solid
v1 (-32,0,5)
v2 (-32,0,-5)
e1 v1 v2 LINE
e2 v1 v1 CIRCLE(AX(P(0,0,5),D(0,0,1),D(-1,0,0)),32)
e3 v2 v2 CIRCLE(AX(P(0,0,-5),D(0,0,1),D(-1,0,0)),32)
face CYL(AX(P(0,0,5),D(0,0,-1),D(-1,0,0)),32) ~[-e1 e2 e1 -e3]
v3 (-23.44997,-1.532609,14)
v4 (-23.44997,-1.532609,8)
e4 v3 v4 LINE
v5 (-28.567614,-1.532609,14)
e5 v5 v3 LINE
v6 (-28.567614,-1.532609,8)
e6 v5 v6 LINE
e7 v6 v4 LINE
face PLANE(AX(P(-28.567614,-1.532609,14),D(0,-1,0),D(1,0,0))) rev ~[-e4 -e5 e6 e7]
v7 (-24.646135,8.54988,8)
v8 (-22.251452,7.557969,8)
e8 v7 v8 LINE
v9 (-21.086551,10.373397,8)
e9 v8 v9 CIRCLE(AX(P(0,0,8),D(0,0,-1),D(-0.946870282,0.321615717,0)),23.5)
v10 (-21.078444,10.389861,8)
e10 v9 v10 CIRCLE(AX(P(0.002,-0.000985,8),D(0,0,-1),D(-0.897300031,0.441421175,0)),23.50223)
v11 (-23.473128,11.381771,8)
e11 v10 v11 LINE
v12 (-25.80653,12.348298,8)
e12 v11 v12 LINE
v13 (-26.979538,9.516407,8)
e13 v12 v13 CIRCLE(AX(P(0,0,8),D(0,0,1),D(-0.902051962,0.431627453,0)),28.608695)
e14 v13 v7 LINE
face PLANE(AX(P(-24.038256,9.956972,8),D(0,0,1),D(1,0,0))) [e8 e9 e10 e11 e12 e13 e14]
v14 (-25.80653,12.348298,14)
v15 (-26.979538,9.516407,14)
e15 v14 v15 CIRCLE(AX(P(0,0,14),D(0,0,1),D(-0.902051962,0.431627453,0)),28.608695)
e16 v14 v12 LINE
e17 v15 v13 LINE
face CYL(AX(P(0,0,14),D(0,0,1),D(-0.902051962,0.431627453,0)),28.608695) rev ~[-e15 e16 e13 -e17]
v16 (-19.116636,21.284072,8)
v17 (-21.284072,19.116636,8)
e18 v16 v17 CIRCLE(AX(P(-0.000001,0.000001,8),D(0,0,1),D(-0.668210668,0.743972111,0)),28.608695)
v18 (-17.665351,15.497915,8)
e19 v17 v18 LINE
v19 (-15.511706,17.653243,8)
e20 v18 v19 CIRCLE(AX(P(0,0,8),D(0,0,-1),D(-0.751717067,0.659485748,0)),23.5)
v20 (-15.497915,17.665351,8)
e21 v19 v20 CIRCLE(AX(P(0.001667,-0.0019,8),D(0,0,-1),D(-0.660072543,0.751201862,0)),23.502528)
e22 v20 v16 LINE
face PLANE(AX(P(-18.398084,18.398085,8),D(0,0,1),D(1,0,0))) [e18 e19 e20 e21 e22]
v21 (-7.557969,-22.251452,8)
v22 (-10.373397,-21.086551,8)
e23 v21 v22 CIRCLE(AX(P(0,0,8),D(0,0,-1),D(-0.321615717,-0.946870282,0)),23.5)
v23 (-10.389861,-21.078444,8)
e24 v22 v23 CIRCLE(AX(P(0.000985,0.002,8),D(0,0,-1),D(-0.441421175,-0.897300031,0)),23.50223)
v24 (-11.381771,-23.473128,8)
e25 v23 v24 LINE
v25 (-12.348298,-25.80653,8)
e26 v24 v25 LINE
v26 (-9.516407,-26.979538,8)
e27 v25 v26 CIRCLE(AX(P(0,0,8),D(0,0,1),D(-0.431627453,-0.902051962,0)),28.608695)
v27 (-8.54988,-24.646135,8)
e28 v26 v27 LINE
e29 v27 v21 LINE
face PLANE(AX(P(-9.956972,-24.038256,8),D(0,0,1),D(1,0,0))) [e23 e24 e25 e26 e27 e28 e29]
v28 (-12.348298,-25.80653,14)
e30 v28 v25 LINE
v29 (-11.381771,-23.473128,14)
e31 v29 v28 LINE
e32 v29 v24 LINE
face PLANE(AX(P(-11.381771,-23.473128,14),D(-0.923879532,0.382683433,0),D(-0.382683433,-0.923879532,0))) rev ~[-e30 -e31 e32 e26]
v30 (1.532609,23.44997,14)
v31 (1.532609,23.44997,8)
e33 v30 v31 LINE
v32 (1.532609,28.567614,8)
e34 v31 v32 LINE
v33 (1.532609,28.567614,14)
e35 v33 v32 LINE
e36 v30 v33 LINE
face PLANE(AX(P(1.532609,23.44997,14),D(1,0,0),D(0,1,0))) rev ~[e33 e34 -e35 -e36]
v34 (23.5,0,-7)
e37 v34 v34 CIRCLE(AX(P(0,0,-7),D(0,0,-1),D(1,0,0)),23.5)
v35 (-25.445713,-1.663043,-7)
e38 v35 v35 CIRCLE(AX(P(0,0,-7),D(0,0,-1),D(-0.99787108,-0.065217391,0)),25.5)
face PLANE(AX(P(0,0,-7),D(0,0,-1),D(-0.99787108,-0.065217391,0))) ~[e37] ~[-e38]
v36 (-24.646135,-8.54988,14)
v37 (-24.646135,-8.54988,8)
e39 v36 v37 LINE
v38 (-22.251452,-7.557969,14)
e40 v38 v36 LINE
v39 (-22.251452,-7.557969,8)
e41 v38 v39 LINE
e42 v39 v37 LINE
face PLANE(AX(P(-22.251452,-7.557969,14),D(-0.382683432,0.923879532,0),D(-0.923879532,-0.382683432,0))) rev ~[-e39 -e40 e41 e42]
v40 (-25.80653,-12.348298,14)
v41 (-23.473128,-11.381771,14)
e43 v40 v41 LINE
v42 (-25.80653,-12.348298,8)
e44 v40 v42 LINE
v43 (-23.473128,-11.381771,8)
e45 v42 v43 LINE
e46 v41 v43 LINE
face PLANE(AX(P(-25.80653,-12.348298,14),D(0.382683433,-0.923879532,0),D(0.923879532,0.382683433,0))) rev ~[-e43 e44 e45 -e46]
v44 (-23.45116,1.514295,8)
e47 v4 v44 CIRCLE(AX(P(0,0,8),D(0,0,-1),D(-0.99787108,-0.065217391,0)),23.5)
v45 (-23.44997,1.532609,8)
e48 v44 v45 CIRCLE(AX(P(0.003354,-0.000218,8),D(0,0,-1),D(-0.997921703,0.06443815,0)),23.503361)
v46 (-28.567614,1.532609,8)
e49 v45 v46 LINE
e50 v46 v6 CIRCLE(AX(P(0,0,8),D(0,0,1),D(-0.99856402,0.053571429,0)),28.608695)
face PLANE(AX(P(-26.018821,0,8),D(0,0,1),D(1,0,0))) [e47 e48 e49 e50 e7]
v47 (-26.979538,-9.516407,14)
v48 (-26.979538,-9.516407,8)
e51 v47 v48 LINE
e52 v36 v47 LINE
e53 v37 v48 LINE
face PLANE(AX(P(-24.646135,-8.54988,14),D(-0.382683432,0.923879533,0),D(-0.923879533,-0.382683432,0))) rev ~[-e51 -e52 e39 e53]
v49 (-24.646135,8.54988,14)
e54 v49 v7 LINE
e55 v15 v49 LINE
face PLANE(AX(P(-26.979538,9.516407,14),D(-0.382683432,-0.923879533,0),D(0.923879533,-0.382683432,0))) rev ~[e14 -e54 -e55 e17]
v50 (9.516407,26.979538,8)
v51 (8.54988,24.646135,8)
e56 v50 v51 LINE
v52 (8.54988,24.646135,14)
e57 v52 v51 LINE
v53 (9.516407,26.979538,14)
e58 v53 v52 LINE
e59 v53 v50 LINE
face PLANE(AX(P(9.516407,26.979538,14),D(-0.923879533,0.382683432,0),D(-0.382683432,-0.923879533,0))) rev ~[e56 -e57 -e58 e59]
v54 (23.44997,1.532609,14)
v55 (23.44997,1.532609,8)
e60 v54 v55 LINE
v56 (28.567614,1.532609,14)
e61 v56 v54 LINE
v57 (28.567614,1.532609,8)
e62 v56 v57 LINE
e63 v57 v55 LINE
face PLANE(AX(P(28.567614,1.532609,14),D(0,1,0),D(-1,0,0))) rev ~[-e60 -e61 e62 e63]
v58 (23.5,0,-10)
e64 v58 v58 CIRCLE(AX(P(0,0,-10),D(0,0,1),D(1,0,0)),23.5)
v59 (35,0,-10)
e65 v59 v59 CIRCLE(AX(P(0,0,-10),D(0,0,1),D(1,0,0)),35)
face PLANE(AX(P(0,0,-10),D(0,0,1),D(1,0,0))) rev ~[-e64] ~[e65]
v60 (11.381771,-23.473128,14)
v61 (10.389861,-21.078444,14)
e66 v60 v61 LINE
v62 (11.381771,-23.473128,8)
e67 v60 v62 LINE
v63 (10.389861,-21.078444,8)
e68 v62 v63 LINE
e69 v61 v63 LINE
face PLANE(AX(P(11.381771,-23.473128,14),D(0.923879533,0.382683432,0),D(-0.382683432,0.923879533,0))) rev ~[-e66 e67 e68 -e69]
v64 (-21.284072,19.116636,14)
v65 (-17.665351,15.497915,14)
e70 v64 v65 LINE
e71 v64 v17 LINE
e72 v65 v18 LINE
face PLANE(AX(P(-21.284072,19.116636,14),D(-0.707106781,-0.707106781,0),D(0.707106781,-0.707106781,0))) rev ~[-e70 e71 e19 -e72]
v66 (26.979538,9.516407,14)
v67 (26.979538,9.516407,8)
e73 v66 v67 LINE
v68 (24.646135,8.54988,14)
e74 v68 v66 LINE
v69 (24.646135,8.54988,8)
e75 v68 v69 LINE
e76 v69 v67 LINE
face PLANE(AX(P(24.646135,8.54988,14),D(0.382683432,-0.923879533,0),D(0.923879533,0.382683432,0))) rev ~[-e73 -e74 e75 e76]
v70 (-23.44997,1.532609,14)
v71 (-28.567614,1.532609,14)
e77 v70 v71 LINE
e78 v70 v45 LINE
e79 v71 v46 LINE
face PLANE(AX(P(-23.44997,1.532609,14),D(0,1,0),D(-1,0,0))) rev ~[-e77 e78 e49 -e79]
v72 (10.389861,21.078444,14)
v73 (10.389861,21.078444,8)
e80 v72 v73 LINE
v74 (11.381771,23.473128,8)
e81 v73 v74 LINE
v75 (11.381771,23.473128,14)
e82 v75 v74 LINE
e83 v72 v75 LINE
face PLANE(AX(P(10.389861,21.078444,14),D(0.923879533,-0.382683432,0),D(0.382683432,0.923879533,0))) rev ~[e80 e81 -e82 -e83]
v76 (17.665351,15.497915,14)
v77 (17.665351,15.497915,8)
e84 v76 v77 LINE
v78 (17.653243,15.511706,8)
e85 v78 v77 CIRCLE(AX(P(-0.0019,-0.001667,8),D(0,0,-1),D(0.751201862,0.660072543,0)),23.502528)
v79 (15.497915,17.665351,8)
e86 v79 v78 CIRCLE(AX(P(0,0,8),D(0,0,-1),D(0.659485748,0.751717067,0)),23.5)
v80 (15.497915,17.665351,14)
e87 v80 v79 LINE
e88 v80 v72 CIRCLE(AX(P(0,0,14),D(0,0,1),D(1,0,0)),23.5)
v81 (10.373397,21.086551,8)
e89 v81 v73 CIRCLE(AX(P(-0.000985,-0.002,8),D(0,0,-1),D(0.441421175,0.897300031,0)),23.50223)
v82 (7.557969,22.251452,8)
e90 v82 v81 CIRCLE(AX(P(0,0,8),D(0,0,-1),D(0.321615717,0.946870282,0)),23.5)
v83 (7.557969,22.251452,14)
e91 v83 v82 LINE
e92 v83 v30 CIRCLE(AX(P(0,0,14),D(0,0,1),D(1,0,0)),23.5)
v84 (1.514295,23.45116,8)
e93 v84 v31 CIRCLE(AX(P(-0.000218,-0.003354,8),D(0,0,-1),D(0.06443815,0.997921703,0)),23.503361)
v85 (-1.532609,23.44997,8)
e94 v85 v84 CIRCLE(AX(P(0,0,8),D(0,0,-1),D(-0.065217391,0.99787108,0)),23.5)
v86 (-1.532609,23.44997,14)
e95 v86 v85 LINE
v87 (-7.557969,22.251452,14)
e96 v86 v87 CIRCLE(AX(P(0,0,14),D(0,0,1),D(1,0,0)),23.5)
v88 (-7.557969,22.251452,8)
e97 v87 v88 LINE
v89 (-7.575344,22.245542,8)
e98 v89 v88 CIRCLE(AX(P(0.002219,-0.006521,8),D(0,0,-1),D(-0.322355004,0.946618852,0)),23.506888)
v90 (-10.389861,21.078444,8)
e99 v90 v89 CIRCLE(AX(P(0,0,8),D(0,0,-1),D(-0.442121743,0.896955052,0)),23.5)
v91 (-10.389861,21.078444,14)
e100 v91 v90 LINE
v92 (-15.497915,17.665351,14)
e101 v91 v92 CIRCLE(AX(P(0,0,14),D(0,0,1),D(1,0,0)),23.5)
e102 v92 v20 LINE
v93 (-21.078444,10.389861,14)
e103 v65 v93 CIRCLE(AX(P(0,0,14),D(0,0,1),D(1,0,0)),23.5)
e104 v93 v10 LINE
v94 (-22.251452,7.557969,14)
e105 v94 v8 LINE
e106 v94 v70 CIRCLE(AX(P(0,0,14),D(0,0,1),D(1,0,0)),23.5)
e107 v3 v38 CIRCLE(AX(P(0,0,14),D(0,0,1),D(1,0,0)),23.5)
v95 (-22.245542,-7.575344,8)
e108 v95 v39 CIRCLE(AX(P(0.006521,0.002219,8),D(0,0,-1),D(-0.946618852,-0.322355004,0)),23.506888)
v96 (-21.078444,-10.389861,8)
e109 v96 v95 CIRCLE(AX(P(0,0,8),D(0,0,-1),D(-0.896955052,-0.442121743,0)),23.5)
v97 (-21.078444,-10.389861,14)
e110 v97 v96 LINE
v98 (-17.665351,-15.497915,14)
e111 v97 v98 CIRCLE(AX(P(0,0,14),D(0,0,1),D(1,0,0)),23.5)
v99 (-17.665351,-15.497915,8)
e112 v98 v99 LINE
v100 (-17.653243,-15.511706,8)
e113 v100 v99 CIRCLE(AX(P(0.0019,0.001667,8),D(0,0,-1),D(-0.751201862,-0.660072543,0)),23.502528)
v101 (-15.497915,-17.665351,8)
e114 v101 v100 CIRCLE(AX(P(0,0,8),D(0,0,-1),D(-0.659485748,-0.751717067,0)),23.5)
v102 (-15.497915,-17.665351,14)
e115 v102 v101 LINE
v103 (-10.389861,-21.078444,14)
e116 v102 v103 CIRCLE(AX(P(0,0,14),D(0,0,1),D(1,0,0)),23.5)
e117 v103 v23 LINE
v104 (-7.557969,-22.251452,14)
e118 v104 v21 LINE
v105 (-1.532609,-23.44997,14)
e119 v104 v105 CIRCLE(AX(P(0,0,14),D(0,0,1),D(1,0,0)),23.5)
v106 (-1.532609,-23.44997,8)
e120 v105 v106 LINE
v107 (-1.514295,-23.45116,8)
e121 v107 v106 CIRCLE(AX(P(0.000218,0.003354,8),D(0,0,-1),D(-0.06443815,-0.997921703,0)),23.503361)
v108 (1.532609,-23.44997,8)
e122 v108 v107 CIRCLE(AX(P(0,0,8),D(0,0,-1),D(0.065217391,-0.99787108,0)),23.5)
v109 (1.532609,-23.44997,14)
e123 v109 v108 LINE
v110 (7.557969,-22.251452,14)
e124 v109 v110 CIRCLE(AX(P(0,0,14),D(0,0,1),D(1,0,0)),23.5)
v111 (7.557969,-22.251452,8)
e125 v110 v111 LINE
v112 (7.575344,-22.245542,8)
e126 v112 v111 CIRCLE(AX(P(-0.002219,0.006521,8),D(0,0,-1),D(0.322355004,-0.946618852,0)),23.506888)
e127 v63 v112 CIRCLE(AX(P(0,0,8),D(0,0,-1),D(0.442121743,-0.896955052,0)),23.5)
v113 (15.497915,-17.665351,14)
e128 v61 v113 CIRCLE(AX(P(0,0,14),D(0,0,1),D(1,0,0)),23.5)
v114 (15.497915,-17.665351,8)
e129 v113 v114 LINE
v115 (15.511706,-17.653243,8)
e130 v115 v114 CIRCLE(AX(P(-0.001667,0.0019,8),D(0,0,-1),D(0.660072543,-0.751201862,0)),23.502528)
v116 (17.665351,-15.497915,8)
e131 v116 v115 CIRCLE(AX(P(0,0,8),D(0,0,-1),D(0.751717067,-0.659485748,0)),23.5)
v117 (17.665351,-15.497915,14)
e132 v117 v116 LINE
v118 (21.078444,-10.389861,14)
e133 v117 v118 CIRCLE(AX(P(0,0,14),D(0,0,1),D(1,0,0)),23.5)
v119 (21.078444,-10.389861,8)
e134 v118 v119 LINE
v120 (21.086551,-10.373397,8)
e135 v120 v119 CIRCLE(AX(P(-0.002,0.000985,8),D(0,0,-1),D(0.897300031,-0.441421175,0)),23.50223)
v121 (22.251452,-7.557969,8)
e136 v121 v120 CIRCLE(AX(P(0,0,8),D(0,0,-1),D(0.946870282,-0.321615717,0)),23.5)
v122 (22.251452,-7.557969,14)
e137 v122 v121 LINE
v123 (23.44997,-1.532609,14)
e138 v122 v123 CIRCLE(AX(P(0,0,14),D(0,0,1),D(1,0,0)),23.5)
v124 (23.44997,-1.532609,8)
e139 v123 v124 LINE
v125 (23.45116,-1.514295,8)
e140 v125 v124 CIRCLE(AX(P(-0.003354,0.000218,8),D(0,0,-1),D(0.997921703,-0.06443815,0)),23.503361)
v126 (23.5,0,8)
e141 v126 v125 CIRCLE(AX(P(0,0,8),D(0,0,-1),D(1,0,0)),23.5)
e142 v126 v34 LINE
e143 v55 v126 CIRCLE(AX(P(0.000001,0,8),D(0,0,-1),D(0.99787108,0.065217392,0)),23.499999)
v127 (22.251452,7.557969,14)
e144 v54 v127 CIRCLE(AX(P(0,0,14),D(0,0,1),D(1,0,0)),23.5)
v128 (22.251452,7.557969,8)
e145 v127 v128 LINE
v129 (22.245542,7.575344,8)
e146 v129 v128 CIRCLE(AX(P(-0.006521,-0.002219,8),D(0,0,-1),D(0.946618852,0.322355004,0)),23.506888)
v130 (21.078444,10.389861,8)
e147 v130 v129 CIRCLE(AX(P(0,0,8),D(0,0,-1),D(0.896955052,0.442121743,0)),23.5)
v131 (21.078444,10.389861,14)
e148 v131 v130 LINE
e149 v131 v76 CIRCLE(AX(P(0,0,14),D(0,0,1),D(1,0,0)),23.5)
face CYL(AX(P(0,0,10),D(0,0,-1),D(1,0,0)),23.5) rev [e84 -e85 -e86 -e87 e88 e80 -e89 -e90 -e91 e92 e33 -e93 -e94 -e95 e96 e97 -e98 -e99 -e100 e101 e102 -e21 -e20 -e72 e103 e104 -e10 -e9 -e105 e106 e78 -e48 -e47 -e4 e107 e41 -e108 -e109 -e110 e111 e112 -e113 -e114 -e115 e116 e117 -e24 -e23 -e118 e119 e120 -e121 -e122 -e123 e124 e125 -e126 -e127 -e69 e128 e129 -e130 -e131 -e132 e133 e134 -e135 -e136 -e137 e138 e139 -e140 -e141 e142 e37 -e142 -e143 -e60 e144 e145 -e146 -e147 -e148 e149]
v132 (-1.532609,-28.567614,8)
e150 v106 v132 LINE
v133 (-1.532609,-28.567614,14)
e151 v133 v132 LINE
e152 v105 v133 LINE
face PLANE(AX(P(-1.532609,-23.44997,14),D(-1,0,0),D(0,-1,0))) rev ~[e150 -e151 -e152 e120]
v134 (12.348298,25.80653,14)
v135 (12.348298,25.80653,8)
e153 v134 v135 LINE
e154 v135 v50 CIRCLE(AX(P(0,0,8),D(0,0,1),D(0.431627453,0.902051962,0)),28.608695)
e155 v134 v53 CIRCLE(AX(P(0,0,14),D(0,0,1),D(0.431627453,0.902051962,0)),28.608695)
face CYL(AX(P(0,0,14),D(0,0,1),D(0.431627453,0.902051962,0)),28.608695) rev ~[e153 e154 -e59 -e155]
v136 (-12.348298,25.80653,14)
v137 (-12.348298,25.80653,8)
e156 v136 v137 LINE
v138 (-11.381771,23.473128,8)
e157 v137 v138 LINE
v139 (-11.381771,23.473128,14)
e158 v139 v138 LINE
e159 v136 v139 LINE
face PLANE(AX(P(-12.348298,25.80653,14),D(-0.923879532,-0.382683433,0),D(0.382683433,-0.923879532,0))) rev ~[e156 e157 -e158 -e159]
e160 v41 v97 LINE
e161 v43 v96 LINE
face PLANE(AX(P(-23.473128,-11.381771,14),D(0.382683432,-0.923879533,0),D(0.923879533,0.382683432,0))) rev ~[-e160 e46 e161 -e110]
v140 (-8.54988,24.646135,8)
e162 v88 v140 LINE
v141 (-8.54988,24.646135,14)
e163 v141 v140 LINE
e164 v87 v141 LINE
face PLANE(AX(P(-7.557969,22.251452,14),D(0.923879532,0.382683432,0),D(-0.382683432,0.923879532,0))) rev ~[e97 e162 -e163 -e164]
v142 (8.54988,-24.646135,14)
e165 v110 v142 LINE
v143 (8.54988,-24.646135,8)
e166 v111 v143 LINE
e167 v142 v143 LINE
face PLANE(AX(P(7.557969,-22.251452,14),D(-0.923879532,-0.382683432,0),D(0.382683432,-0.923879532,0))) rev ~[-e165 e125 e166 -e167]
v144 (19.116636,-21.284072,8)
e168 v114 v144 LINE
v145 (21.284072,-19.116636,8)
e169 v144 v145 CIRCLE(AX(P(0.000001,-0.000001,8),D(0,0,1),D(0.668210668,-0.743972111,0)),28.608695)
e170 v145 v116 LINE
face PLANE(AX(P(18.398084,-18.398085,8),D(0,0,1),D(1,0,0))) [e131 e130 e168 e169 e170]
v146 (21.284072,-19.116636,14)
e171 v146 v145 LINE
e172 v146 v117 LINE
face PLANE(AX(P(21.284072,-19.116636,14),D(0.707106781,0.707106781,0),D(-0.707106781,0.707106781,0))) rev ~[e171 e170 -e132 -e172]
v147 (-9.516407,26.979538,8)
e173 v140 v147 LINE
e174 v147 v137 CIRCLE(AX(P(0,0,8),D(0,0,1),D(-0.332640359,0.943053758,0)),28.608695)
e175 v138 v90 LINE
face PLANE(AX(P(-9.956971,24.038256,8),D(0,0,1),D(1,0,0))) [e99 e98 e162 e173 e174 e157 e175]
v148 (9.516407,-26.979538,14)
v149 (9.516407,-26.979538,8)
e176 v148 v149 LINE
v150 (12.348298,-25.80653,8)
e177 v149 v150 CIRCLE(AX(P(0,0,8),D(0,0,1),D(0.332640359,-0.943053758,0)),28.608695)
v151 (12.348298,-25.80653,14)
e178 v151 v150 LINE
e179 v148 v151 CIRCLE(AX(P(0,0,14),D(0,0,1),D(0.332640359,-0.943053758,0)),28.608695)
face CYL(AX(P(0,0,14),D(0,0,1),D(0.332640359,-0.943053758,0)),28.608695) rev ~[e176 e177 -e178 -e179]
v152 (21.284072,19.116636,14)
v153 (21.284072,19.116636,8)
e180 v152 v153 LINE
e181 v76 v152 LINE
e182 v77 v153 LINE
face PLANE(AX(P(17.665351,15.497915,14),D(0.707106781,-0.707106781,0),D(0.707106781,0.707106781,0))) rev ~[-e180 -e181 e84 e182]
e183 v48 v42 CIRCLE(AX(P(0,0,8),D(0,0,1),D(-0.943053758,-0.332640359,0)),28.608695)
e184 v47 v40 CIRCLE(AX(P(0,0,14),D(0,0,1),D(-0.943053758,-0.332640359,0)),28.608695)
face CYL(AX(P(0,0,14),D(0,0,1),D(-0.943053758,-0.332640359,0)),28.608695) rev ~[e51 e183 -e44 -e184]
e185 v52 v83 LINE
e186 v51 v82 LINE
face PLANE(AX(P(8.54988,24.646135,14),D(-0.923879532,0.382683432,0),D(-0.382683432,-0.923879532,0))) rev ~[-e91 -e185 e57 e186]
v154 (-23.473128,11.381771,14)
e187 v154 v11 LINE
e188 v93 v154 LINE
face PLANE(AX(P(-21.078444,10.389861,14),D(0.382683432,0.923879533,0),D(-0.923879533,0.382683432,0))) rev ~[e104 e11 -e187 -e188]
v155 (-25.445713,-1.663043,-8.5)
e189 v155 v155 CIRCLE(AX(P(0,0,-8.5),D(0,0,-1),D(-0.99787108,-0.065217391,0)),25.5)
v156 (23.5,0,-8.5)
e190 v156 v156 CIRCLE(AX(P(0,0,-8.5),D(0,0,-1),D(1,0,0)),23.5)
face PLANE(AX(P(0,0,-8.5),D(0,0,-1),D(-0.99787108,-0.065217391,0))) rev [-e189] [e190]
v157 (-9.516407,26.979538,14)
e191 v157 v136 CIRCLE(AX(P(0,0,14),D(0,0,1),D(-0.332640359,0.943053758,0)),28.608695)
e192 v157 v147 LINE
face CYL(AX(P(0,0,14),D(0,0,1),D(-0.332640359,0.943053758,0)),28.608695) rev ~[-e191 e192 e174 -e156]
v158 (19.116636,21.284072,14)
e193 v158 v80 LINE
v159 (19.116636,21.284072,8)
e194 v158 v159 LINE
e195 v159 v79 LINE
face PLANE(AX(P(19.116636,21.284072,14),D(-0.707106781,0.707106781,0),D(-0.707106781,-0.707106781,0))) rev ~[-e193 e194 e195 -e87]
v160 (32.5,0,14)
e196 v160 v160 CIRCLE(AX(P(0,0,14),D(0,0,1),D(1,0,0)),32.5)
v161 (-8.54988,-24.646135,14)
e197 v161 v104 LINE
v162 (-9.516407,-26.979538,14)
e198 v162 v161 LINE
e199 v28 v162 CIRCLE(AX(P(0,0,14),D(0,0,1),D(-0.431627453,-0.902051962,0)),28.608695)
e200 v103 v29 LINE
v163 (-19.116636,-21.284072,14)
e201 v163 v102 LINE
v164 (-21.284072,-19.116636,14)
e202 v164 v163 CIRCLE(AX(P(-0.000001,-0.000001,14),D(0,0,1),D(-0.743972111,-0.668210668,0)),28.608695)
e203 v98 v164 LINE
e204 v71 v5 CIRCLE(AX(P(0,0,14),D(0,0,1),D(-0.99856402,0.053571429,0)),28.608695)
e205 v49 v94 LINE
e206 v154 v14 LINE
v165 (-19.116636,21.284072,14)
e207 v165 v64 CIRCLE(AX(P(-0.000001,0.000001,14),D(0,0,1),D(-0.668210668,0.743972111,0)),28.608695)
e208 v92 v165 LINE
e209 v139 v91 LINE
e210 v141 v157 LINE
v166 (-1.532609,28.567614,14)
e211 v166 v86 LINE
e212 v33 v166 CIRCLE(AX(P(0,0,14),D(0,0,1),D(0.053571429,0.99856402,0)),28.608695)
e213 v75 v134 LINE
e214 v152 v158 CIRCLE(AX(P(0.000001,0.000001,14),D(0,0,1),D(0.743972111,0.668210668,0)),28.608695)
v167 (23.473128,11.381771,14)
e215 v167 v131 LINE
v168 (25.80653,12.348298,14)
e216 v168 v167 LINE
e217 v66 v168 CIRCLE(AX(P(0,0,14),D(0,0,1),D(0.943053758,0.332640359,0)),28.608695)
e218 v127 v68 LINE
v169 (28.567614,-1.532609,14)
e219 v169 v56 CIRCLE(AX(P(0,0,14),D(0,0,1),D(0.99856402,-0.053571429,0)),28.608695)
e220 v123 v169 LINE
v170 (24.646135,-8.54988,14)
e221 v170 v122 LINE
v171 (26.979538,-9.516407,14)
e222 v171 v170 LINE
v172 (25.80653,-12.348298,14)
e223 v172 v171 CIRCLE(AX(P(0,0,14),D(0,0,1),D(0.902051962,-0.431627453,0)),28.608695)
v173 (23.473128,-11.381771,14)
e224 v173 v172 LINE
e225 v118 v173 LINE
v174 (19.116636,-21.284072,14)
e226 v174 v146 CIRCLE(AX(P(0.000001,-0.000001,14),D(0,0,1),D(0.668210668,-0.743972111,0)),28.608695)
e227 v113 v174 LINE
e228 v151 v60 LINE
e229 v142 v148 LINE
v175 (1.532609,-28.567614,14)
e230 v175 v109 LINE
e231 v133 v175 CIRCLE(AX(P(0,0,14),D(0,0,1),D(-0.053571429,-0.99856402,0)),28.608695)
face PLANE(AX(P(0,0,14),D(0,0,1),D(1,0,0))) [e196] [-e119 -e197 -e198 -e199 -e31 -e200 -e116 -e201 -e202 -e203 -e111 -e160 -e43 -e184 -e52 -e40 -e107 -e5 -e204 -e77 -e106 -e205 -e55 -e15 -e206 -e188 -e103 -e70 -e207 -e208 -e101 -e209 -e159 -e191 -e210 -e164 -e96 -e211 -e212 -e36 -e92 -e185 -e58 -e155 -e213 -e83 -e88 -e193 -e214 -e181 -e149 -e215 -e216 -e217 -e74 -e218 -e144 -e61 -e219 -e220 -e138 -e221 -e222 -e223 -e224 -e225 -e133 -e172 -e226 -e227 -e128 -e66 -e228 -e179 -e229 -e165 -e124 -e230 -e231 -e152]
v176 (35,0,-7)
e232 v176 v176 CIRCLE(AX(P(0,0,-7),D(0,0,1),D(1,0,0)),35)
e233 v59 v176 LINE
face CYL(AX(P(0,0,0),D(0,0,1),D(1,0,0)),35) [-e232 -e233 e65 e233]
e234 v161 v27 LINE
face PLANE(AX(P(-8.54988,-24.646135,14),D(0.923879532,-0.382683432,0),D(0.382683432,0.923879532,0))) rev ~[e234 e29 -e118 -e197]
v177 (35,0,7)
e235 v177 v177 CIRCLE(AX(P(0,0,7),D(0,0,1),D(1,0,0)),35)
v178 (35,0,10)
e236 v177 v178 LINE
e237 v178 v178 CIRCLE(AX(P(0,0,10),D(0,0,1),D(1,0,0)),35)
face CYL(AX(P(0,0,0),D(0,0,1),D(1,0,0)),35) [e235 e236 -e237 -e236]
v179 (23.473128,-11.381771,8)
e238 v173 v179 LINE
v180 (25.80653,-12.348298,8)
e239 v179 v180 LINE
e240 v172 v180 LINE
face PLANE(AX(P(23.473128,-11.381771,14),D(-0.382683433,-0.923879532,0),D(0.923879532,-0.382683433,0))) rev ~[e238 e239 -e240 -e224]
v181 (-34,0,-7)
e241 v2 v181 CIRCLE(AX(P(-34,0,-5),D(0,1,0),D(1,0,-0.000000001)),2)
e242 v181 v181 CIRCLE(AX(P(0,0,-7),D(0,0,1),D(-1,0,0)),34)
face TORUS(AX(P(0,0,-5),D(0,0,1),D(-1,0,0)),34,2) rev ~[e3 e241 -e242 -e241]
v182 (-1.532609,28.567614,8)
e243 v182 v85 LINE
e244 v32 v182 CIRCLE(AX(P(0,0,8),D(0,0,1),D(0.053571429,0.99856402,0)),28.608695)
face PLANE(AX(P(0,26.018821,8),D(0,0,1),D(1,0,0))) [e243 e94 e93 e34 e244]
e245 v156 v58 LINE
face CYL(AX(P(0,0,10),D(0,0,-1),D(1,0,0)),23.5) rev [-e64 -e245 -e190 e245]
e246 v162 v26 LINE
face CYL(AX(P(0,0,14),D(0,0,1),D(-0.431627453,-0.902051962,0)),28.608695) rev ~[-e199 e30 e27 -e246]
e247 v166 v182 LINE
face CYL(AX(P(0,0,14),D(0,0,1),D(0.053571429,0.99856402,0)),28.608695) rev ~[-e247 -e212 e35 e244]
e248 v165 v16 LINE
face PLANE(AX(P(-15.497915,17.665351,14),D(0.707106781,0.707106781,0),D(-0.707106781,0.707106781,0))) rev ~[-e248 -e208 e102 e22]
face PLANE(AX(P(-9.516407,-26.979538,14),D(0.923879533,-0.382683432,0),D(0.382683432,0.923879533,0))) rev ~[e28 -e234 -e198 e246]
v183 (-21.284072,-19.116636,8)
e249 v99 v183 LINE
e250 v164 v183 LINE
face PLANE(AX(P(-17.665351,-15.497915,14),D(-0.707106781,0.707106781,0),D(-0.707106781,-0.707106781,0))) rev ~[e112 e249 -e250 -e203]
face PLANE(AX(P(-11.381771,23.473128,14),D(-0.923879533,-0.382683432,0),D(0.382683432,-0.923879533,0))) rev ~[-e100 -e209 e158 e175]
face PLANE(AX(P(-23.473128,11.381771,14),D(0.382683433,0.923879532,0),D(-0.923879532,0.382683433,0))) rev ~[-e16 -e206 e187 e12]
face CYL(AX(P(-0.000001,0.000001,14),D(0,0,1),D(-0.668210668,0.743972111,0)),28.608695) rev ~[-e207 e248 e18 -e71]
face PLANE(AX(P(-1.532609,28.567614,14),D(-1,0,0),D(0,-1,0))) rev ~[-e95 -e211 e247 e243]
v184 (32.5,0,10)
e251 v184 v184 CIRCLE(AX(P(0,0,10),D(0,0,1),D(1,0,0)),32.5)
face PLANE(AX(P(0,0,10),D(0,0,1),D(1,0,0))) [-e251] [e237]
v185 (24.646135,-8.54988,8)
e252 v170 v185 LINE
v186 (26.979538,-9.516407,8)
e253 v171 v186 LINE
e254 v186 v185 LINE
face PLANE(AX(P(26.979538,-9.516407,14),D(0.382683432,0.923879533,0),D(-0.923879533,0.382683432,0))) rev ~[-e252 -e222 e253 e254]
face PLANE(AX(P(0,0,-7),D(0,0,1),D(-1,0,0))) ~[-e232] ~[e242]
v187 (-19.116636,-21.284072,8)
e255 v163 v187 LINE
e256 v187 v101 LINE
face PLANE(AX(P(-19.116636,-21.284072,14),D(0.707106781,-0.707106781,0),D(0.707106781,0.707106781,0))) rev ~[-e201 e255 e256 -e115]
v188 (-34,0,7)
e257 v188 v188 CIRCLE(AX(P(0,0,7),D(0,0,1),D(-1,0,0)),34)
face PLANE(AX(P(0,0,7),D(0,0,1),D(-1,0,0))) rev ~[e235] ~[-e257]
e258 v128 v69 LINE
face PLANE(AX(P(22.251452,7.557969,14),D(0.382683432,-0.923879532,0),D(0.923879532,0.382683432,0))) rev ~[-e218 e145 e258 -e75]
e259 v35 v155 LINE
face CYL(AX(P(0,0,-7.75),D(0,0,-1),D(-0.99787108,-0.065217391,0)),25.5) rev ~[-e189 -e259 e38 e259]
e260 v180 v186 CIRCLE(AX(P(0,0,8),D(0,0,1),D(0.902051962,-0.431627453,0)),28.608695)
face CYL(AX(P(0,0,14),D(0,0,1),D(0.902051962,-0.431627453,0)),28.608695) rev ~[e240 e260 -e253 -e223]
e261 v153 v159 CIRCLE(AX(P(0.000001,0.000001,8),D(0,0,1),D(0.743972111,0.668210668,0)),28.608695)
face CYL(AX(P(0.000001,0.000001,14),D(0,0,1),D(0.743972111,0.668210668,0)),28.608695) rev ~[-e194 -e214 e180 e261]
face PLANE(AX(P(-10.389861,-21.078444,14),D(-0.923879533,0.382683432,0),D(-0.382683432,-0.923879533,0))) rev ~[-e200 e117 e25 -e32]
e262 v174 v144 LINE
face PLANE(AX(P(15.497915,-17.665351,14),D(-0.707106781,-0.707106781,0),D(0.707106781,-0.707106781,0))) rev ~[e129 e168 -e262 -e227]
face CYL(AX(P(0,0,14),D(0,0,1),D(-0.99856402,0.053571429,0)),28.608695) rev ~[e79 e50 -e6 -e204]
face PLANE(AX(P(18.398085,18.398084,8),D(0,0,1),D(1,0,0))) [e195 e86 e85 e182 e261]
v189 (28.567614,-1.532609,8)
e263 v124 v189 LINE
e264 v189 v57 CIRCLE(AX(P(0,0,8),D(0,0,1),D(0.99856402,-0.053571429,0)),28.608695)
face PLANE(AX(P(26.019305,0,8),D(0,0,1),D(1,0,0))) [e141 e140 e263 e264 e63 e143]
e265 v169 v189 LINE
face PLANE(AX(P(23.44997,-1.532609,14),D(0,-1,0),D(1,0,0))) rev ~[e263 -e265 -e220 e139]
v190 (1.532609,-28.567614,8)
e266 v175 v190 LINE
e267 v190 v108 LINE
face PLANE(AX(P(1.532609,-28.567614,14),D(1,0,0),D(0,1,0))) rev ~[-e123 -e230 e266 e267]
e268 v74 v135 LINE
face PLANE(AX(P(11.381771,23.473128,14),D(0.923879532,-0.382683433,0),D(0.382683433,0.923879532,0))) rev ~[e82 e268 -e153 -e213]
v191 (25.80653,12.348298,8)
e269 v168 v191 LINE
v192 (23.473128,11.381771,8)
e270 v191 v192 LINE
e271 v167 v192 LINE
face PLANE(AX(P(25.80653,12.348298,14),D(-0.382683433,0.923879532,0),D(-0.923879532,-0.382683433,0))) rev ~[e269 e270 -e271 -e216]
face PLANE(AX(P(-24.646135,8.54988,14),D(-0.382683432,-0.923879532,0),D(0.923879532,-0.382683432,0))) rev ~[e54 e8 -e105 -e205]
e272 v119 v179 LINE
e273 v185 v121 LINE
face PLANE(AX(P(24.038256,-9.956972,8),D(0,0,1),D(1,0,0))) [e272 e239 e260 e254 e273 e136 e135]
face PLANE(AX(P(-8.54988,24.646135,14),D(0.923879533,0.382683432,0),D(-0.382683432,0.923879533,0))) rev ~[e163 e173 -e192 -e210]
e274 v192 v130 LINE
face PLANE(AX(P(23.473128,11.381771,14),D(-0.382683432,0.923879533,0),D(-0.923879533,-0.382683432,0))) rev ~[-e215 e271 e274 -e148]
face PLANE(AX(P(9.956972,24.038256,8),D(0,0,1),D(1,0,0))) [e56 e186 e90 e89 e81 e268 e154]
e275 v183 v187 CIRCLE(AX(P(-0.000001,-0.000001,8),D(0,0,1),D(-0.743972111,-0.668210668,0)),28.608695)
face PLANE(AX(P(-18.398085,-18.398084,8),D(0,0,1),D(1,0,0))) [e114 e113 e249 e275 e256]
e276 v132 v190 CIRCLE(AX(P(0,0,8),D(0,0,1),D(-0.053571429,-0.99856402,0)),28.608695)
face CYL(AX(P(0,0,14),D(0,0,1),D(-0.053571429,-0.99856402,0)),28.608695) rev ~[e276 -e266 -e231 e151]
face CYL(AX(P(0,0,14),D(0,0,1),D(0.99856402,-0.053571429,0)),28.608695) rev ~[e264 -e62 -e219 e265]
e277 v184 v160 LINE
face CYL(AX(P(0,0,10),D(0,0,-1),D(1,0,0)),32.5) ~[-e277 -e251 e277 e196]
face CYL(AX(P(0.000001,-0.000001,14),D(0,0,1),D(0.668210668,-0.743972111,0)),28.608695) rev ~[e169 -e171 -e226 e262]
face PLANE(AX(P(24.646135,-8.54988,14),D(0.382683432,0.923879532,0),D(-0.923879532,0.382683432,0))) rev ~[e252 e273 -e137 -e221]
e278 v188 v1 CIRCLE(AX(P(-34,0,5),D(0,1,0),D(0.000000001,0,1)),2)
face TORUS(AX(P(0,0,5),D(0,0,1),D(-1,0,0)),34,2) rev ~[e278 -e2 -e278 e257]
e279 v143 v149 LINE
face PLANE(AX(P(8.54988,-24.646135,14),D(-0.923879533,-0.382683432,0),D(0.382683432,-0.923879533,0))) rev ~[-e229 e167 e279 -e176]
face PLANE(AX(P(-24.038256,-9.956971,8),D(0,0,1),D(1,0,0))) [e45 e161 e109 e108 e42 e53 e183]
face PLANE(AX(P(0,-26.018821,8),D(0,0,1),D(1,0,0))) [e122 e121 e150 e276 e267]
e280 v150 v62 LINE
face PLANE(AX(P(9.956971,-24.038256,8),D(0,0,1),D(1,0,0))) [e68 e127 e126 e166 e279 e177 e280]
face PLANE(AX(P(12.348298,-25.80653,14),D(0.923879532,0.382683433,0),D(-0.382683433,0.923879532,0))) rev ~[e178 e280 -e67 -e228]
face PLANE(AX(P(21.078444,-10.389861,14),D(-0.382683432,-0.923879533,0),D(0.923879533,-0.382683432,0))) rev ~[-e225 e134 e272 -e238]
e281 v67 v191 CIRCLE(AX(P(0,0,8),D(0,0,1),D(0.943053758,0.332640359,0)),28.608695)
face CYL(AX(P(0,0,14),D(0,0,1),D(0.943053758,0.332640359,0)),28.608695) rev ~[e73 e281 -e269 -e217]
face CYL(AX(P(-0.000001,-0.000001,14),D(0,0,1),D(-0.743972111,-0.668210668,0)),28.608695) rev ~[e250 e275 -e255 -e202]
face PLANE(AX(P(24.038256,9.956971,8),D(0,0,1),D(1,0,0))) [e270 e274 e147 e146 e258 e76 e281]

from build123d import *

# Parameters (mm, degrees)
SKETCH_1_R          = 35
SKETCH_1_R_2        = 25
SKETCH_1_R_3        = 23.5
EXTRUDE_1_DEPTH     = 10
SKETCH_3_R          = 32.5
SKETCH_3_R_2        = 23.5
EXTRUDE_2_DEPTH     = 4
CUT_EXTRUDE_1_DEPTH = 6
SKETCH_7_W          = 1.5
SKETCH_7_H          = 2


with BuildPart() as part:
    # 草图1 → 凸台-拉伸1 (new, symmetric)
    with BuildSketch(Plane.XY):
        Circle(SKETCH_1_R)
        Circle(SKETCH_1_R_2, mode=Mode.SUBTRACT)
        Circle(SKETCH_1_R_2)
        Circle(SKETCH_1_R_3, mode=Mode.SUBTRACT)
    extrude(amount=EXTRUDE_1_DEPTH, both=True)

    # 草图2 → 切除-旋转1 (revolve, cut)
    with BuildSketch(Plane(origin=(0, 0, 0), x_dir=(0, 0, -1), z_dir=(1, 0, 0)), mode=Mode.PRIVATE) as cut_revolve_1_sk:
        with BuildLine():
            Line((-7, 40), (-7, 34))
            ThreePointArc((-7, 34), (-6.414213562, 32.585786438), (-5, 32))
            Line((-5, 32), (5, 32))
            ThreePointArc((5, 32), (6.414213562, 32.585786438), (7, 34))
            Line((7, 34), (7, 40))
            Line((7, 40), (-7, 40))
        make_face()
    revolve(cut_revolve_1_sk.sketch.rotate(Axis((0, 0, 0), (0, 0, 1)), 90), axis=Axis((0, 0, 0), (0, 0, 1)), mode=Mode.SUBTRACT)

    # 草图3 → 凸台-拉伸2 (add)
    with BuildSketch(Plane.XY.offset(10)):
        Circle(SKETCH_3_R)
        Circle(SKETCH_3_R_2, mode=Mode.SUBTRACT)
    extrude(amount=EXTRUDE_2_DEPTH)

    # 草图5 → 切除-拉伸1 (cut)
    with BuildSketch(Plane.XY.offset(14)):
        with BuildLine():
            ThreePointArc((19.116635677, -21.28407168), (20.229402697, -20.229402697), (21.28407168, -19.116635677))
            Line((21.28407168, -19.116635677), (19.498162716, -17.330726713))
            Line((19.498162716, -17.330726713), (17.665351072, -15.497915069))
            ThreePointArc((17.665351072, -15.497915069), (16.623496591, -16.610519591), (15.511706041, -17.65324264))
            ThreePointArc((15.511706041, -17.65324264), (15.504811737, -17.659298202), (15.497915069, -17.665351072))
            Line((15.497915069, -17.665351072), (17.330726713, -19.498162716))
            Line((17.330726713, -19.498162716), (19.116635677, -21.28407168))
        make_face()
        with BuildLine():
            ThreePointArc((25.806530038, -12.348298438), (26.430988365, -10.948073848), (26.97953795, -9.516406827))
            Line((26.97953795, -9.516406827), (24.646135439, -8.549879861))
            Line((24.646135439, -8.549879861), (22.251451624, -7.557969347))
            ThreePointArc((22.251451624, -7.557969347), (21.71467891, -8.984582342), (21.086551211, -10.373396648))
            ThreePointArc((21.086551211, -10.373396648), (21.082499068, -10.381629594), (21.078443711, -10.389860957))
            Line((21.078443711, -10.389860957), (23.473127527, -11.381771471))
            Line((23.473127527, -11.381771471), (25.806530038, -12.348298438))
        make_face()
        with BuildLine():
            ThreePointArc((28.567614137, -1.532608696), (28.608695652, 0), (28.567614137, 1.532608696))
            Line((28.567614137, 1.532608696), (26.041957459, 1.532608696))
            Line((26.041957459, 1.532608696), (23.449970375, 1.532608696))
            ThreePointArc((23.449970375, 1.532608696), (23.487489264, 0.766712524), (23.5, 0))
            ThreePointArc((23.5, 0), (23.487786854, -0.757541226), (23.45116011, -1.514295052))
            ThreePointArc((23.45116011, -1.514295052), (23.45056703, -1.52345199), (23.449970375, -1.532608696))
            Line((23.449970375, -1.532608696), (26.041957459, -1.532608696))
            Line((26.041957459, -1.532608696), (28.567614137, -1.532608696))
        make_face()
        with BuildLine():
            ThreePointArc((26.97953795, 9.516406827), (26.430988365, 10.948073848), (25.806530038, 12.348298438))
            Line((25.806530038, 12.348298438), (23.473127527, 11.381771471))
            Line((23.473127527, 11.381771471), (21.078443711, 10.389860957))
            ThreePointArc((21.078443711, 10.389860957), (21.707655808, 9.001537608), (22.245542467, 7.575344239))
            ThreePointArc((22.245542467, 7.575344239), (22.248498741, 7.56665737), (22.251451624, 7.557969347))
            Line((22.251451624, 7.557969347), (24.646135439, 8.549879861))
            Line((24.646135439, 8.549879861), (26.97953795, 9.516406827))
        make_face()
        with BuildLine():
            ThreePointArc((21.28407168, 19.116635677), (20.229402697, 20.229402697), (19.116635677, 21.28407168))
            Line((19.116635677, 21.28407168), (17.330726713, 19.498162716))
            Line((17.330726713, 19.498162716), (15.497915069, 17.665351072))
            ThreePointArc((15.497915069, 17.665351072), (16.610519591, 16.623496591), (17.65324264, 15.511706041))
            ThreePointArc((17.65324264, 15.511706041), (17.659298202, 15.504811737), (17.665351072, 15.497915069))
            Line((17.665351072, 15.497915069), (19.498162716, 17.330726713))
            Line((19.498162716, 17.330726713), (21.28407168, 19.116635677))
        make_face()
        with BuildLine():
            Line((9.516406827, 26.97953795), (8.549879861, 24.646135439))
            Line((8.549879861, 24.646135439), (7.557969347, 22.251451624))
            ThreePointArc((7.557969347, 22.251451624), (8.984582342, 21.71467891), (10.373396648, 21.086551211))
            ThreePointArc((10.373396648, 21.086551211), (10.381629594, 21.082499068), (10.389860957, 21.078443711))
            Line((10.389860957, 21.078443711), (11.381771471, 23.473127527))
            Line((11.381771471, 23.473127527), (12.348298438, 25.806530038))
            ThreePointArc((12.348298438, 25.806530038), (10.948073848, 26.430988365), (9.516406827, 26.97953795))
        make_face()
        with BuildLine():
            ThreePointArc((1.514295052, 23.45116011), (1.52345199, 23.45056703), (1.532608696, 23.449970375))
            Line((1.532608696, 23.449970375), (1.532608696, 26.041957459))
            Line((1.532608696, 26.041957459), (1.532608696, 28.567614137))
            ThreePointArc((1.532608696, 28.567614137), (0, 28.608695652), (-1.532608696, 28.567614137))
            Line((-1.532608696, 28.567614137), (-1.532608696, 26.041957459))
            Line((-1.532608696, 26.041957459), (-1.532608696, 23.449970375))
            ThreePointArc((-1.532608696, 23.449970375), (-0.009176124, 23.499998208), (1.514295052, 23.45116011))
        make_face()
        with BuildLine():
            ThreePointArc((9.516406827, -26.97953795), (10.948073848, -26.430988365), (12.348298438, -25.806530038))
            Line((12.348298438, -25.806530038), (11.381771471, -23.473127527))
            Line((11.381771471, -23.473127527), (10.389860957, -21.078443711))
            ThreePointArc((10.389860957, -21.078443711), (9.001537608, -21.707655808), (7.575344239, -22.245542467))
            ThreePointArc((7.575344239, -22.245542467), (7.56665737, -22.248498741), (7.557969347, -22.251451624))
            Line((7.557969347, -22.251451624), (8.549879861, -24.646135439))
            Line((8.549879861, -24.646135439), (9.516406827, -26.97953795))
        make_face()
        with BuildLine():
            ThreePointArc((-1.532608696, -28.567614137), (0, -28.608695652), (1.532608696, -28.567614137))
            Line((1.532608696, -28.567614137), (1.532608696, -26.041957459))
            Line((1.532608696, -26.041957459), (1.532608696, -23.449970375))
            ThreePointArc((1.532608696, -23.449970375), (0.009176124, -23.499998208), (-1.514295052, -23.45116011))
            ThreePointArc((-1.514295052, -23.45116011), (-1.52345199, -23.45056703), (-1.532608696, -23.449970375))
            Line((-1.532608696, -23.449970375), (-1.532608696, -26.041957459))
            Line((-1.532608696, -26.041957459), (-1.532608696, -28.567614137))
        make_face()
        with BuildLine():
            Line((-11.381771471, -23.473127527), (-12.348298438, -25.806530038))
            ThreePointArc((-12.348298438, -25.806530038), (-10.948073848, -26.430988365), (-9.516406827, -26.97953795))
            Line((-9.516406827, -26.97953795), (-8.549879861, -24.646135439))
            Line((-8.549879861, -24.646135439), (-7.557969347, -22.251451624))
            ThreePointArc((-7.557969347, -22.251451624), (-8.984582342, -21.71467891), (-10.373396648, -21.086551211))
            ThreePointArc((-10.373396648, -21.086551211), (-10.381629594, -21.082499068), (-10.389860957, -21.078443711))
            Line((-10.389860957, -21.078443711), (-11.381771471, -23.473127527))
        make_face()
        with BuildLine():
            Line((-19.498162716, -17.330726713), (-21.28407168, -19.116635677))
            ThreePointArc((-21.28407168, -19.116635677), (-20.229402697, -20.229402697), (-19.116635677, -21.28407168))
            Line((-19.116635677, -21.28407168), (-17.330726713, -19.498162716))
            Line((-17.330726713, -19.498162716), (-15.497915069, -17.665351072))
            ThreePointArc((-15.497915069, -17.665351072), (-16.610519591, -16.623496591), (-17.65324264, -15.511706041))
            ThreePointArc((-17.65324264, -15.511706041), (-17.659298202, -15.504811737), (-17.665351072, -15.497915069))
            Line((-17.665351072, -15.497915069), (-19.498162716, -17.330726713))
        make_face()
        with BuildLine():
            Line((-24.646135439, -8.549879861), (-26.97953795, -9.516406827))
            ThreePointArc((-26.97953795, -9.516406827), (-26.430988365, -10.948073848), (-25.806530038, -12.348298438))
            Line((-25.806530038, -12.348298438), (-23.473127527, -11.381771471))
            Line((-23.473127527, -11.381771471), (-21.078443711, -10.389860957))
            ThreePointArc((-21.078443711, -10.389860957), (-21.707655808, -9.001537608), (-22.245542467, -7.575344239))
            ThreePointArc((-22.245542467, -7.575344239), (-22.248498741, -7.56665737), (-22.251451624, -7.557969347))
            Line((-22.251451624, -7.557969347), (-24.646135439, -8.549879861))
        make_face()
        with BuildLine():
            Line((-26.041957459, 1.532608696), (-28.567614137, 1.532608696))
            ThreePointArc((-28.567614137, 1.532608696), (-28.608695652, 0), (-28.567614137, -1.532608696))
            Line((-28.567614137, -1.532608696), (-26.041957459, -1.532608696))
            Line((-26.041957459, -1.532608696), (-23.449970375, -1.532608696))
            ThreePointArc((-23.449970375, -1.532608696), (-23.499998208, -0.009176124), (-23.45116011, 1.514295052))
            ThreePointArc((-23.45116011, 1.514295052), (-23.45056703, 1.52345199), (-23.449970375, 1.532608696))
            Line((-23.449970375, 1.532608696), (-26.041957459, 1.532608696))
        make_face()
        with BuildLine():
            Line((-23.473127527, 11.381771471), (-25.806530038, 12.348298438))
            ThreePointArc((-25.806530038, 12.348298438), (-26.430988365, 10.948073848), (-26.97953795, 9.516406827))
            Line((-26.97953795, 9.516406827), (-24.646135439, 8.549879861))
            Line((-24.646135439, 8.549879861), (-22.251451624, 7.557969347))
            ThreePointArc((-22.251451624, 7.557969347), (-21.71467891, 8.984582342), (-21.086551211, 10.373396648))
            ThreePointArc((-21.086551211, 10.373396648), (-21.082499068, 10.381629594), (-21.078443711, 10.389860957))
            Line((-21.078443711, 10.389860957), (-23.473127527, 11.381771471))
        make_face()
        with BuildLine():
            Line((-17.330726713, 19.498162716), (-19.116635677, 21.28407168))
            ThreePointArc((-19.116635677, 21.28407168), (-20.229402697, 20.229402697), (-21.28407168, 19.116635677))
            Line((-21.28407168, 19.116635677), (-19.498162716, 17.330726713))
            Line((-19.498162716, 17.330726713), (-17.665351072, 15.497915069))
            ThreePointArc((-17.665351072, 15.497915069), (-16.623496591, 16.610519591), (-15.511706041, 17.65324264))
            ThreePointArc((-15.511706041, 17.65324264), (-15.504811737, 17.659298202), (-15.497915069, 17.665351072))
            Line((-15.497915069, 17.665351072), (-17.330726713, 19.498162716))
        make_face()
        with BuildLine():
            Line((-8.549879861, 24.646135439), (-9.516406827, 26.97953795))
            ThreePointArc((-9.516406827, 26.97953795), (-10.948073848, 26.430988365), (-12.348298438, 25.806530038))
            Line((-12.348298438, 25.806530038), (-11.381771471, 23.473127527))
            Line((-11.381771471, 23.473127527), (-10.389860957, 21.078443711))
            ThreePointArc((-10.389860957, 21.078443711), (-9.001537608, 21.707655808), (-7.575344239, 22.245542467))
            ThreePointArc((-7.575344239, 22.245542467), (-7.56665737, 22.248498741), (-7.557969347, 22.251451624))
            Line((-7.557969347, 22.251451624), (-8.549879861, 24.646135439))
        make_face()
    extrude(amount=-CUT_EXTRUDE_1_DEPTH, mode=Mode.SUBTRACT)

    # 草图7 → 切除-旋转2 (revolve, cut)
    with BuildSketch(Plane(origin=(0, 0, 0), x_dir=(0, 0, -1), z_dir=(1, 0, 0)), mode=Mode.PRIVATE) as cut_revolve_2_sk:
        with Locations((7.75, 24.5)):
            Rectangle(SKETCH_7_W, SKETCH_7_H)
    revolve(cut_revolve_2_sk.sketch.rotate(Axis((0, 0, 0), (0, 0, -1)), 266.260664768), axis=Axis((0, 0, 0), (0, 0, -1)), mode=Mode.SUBTRACT)


solid = part.part
